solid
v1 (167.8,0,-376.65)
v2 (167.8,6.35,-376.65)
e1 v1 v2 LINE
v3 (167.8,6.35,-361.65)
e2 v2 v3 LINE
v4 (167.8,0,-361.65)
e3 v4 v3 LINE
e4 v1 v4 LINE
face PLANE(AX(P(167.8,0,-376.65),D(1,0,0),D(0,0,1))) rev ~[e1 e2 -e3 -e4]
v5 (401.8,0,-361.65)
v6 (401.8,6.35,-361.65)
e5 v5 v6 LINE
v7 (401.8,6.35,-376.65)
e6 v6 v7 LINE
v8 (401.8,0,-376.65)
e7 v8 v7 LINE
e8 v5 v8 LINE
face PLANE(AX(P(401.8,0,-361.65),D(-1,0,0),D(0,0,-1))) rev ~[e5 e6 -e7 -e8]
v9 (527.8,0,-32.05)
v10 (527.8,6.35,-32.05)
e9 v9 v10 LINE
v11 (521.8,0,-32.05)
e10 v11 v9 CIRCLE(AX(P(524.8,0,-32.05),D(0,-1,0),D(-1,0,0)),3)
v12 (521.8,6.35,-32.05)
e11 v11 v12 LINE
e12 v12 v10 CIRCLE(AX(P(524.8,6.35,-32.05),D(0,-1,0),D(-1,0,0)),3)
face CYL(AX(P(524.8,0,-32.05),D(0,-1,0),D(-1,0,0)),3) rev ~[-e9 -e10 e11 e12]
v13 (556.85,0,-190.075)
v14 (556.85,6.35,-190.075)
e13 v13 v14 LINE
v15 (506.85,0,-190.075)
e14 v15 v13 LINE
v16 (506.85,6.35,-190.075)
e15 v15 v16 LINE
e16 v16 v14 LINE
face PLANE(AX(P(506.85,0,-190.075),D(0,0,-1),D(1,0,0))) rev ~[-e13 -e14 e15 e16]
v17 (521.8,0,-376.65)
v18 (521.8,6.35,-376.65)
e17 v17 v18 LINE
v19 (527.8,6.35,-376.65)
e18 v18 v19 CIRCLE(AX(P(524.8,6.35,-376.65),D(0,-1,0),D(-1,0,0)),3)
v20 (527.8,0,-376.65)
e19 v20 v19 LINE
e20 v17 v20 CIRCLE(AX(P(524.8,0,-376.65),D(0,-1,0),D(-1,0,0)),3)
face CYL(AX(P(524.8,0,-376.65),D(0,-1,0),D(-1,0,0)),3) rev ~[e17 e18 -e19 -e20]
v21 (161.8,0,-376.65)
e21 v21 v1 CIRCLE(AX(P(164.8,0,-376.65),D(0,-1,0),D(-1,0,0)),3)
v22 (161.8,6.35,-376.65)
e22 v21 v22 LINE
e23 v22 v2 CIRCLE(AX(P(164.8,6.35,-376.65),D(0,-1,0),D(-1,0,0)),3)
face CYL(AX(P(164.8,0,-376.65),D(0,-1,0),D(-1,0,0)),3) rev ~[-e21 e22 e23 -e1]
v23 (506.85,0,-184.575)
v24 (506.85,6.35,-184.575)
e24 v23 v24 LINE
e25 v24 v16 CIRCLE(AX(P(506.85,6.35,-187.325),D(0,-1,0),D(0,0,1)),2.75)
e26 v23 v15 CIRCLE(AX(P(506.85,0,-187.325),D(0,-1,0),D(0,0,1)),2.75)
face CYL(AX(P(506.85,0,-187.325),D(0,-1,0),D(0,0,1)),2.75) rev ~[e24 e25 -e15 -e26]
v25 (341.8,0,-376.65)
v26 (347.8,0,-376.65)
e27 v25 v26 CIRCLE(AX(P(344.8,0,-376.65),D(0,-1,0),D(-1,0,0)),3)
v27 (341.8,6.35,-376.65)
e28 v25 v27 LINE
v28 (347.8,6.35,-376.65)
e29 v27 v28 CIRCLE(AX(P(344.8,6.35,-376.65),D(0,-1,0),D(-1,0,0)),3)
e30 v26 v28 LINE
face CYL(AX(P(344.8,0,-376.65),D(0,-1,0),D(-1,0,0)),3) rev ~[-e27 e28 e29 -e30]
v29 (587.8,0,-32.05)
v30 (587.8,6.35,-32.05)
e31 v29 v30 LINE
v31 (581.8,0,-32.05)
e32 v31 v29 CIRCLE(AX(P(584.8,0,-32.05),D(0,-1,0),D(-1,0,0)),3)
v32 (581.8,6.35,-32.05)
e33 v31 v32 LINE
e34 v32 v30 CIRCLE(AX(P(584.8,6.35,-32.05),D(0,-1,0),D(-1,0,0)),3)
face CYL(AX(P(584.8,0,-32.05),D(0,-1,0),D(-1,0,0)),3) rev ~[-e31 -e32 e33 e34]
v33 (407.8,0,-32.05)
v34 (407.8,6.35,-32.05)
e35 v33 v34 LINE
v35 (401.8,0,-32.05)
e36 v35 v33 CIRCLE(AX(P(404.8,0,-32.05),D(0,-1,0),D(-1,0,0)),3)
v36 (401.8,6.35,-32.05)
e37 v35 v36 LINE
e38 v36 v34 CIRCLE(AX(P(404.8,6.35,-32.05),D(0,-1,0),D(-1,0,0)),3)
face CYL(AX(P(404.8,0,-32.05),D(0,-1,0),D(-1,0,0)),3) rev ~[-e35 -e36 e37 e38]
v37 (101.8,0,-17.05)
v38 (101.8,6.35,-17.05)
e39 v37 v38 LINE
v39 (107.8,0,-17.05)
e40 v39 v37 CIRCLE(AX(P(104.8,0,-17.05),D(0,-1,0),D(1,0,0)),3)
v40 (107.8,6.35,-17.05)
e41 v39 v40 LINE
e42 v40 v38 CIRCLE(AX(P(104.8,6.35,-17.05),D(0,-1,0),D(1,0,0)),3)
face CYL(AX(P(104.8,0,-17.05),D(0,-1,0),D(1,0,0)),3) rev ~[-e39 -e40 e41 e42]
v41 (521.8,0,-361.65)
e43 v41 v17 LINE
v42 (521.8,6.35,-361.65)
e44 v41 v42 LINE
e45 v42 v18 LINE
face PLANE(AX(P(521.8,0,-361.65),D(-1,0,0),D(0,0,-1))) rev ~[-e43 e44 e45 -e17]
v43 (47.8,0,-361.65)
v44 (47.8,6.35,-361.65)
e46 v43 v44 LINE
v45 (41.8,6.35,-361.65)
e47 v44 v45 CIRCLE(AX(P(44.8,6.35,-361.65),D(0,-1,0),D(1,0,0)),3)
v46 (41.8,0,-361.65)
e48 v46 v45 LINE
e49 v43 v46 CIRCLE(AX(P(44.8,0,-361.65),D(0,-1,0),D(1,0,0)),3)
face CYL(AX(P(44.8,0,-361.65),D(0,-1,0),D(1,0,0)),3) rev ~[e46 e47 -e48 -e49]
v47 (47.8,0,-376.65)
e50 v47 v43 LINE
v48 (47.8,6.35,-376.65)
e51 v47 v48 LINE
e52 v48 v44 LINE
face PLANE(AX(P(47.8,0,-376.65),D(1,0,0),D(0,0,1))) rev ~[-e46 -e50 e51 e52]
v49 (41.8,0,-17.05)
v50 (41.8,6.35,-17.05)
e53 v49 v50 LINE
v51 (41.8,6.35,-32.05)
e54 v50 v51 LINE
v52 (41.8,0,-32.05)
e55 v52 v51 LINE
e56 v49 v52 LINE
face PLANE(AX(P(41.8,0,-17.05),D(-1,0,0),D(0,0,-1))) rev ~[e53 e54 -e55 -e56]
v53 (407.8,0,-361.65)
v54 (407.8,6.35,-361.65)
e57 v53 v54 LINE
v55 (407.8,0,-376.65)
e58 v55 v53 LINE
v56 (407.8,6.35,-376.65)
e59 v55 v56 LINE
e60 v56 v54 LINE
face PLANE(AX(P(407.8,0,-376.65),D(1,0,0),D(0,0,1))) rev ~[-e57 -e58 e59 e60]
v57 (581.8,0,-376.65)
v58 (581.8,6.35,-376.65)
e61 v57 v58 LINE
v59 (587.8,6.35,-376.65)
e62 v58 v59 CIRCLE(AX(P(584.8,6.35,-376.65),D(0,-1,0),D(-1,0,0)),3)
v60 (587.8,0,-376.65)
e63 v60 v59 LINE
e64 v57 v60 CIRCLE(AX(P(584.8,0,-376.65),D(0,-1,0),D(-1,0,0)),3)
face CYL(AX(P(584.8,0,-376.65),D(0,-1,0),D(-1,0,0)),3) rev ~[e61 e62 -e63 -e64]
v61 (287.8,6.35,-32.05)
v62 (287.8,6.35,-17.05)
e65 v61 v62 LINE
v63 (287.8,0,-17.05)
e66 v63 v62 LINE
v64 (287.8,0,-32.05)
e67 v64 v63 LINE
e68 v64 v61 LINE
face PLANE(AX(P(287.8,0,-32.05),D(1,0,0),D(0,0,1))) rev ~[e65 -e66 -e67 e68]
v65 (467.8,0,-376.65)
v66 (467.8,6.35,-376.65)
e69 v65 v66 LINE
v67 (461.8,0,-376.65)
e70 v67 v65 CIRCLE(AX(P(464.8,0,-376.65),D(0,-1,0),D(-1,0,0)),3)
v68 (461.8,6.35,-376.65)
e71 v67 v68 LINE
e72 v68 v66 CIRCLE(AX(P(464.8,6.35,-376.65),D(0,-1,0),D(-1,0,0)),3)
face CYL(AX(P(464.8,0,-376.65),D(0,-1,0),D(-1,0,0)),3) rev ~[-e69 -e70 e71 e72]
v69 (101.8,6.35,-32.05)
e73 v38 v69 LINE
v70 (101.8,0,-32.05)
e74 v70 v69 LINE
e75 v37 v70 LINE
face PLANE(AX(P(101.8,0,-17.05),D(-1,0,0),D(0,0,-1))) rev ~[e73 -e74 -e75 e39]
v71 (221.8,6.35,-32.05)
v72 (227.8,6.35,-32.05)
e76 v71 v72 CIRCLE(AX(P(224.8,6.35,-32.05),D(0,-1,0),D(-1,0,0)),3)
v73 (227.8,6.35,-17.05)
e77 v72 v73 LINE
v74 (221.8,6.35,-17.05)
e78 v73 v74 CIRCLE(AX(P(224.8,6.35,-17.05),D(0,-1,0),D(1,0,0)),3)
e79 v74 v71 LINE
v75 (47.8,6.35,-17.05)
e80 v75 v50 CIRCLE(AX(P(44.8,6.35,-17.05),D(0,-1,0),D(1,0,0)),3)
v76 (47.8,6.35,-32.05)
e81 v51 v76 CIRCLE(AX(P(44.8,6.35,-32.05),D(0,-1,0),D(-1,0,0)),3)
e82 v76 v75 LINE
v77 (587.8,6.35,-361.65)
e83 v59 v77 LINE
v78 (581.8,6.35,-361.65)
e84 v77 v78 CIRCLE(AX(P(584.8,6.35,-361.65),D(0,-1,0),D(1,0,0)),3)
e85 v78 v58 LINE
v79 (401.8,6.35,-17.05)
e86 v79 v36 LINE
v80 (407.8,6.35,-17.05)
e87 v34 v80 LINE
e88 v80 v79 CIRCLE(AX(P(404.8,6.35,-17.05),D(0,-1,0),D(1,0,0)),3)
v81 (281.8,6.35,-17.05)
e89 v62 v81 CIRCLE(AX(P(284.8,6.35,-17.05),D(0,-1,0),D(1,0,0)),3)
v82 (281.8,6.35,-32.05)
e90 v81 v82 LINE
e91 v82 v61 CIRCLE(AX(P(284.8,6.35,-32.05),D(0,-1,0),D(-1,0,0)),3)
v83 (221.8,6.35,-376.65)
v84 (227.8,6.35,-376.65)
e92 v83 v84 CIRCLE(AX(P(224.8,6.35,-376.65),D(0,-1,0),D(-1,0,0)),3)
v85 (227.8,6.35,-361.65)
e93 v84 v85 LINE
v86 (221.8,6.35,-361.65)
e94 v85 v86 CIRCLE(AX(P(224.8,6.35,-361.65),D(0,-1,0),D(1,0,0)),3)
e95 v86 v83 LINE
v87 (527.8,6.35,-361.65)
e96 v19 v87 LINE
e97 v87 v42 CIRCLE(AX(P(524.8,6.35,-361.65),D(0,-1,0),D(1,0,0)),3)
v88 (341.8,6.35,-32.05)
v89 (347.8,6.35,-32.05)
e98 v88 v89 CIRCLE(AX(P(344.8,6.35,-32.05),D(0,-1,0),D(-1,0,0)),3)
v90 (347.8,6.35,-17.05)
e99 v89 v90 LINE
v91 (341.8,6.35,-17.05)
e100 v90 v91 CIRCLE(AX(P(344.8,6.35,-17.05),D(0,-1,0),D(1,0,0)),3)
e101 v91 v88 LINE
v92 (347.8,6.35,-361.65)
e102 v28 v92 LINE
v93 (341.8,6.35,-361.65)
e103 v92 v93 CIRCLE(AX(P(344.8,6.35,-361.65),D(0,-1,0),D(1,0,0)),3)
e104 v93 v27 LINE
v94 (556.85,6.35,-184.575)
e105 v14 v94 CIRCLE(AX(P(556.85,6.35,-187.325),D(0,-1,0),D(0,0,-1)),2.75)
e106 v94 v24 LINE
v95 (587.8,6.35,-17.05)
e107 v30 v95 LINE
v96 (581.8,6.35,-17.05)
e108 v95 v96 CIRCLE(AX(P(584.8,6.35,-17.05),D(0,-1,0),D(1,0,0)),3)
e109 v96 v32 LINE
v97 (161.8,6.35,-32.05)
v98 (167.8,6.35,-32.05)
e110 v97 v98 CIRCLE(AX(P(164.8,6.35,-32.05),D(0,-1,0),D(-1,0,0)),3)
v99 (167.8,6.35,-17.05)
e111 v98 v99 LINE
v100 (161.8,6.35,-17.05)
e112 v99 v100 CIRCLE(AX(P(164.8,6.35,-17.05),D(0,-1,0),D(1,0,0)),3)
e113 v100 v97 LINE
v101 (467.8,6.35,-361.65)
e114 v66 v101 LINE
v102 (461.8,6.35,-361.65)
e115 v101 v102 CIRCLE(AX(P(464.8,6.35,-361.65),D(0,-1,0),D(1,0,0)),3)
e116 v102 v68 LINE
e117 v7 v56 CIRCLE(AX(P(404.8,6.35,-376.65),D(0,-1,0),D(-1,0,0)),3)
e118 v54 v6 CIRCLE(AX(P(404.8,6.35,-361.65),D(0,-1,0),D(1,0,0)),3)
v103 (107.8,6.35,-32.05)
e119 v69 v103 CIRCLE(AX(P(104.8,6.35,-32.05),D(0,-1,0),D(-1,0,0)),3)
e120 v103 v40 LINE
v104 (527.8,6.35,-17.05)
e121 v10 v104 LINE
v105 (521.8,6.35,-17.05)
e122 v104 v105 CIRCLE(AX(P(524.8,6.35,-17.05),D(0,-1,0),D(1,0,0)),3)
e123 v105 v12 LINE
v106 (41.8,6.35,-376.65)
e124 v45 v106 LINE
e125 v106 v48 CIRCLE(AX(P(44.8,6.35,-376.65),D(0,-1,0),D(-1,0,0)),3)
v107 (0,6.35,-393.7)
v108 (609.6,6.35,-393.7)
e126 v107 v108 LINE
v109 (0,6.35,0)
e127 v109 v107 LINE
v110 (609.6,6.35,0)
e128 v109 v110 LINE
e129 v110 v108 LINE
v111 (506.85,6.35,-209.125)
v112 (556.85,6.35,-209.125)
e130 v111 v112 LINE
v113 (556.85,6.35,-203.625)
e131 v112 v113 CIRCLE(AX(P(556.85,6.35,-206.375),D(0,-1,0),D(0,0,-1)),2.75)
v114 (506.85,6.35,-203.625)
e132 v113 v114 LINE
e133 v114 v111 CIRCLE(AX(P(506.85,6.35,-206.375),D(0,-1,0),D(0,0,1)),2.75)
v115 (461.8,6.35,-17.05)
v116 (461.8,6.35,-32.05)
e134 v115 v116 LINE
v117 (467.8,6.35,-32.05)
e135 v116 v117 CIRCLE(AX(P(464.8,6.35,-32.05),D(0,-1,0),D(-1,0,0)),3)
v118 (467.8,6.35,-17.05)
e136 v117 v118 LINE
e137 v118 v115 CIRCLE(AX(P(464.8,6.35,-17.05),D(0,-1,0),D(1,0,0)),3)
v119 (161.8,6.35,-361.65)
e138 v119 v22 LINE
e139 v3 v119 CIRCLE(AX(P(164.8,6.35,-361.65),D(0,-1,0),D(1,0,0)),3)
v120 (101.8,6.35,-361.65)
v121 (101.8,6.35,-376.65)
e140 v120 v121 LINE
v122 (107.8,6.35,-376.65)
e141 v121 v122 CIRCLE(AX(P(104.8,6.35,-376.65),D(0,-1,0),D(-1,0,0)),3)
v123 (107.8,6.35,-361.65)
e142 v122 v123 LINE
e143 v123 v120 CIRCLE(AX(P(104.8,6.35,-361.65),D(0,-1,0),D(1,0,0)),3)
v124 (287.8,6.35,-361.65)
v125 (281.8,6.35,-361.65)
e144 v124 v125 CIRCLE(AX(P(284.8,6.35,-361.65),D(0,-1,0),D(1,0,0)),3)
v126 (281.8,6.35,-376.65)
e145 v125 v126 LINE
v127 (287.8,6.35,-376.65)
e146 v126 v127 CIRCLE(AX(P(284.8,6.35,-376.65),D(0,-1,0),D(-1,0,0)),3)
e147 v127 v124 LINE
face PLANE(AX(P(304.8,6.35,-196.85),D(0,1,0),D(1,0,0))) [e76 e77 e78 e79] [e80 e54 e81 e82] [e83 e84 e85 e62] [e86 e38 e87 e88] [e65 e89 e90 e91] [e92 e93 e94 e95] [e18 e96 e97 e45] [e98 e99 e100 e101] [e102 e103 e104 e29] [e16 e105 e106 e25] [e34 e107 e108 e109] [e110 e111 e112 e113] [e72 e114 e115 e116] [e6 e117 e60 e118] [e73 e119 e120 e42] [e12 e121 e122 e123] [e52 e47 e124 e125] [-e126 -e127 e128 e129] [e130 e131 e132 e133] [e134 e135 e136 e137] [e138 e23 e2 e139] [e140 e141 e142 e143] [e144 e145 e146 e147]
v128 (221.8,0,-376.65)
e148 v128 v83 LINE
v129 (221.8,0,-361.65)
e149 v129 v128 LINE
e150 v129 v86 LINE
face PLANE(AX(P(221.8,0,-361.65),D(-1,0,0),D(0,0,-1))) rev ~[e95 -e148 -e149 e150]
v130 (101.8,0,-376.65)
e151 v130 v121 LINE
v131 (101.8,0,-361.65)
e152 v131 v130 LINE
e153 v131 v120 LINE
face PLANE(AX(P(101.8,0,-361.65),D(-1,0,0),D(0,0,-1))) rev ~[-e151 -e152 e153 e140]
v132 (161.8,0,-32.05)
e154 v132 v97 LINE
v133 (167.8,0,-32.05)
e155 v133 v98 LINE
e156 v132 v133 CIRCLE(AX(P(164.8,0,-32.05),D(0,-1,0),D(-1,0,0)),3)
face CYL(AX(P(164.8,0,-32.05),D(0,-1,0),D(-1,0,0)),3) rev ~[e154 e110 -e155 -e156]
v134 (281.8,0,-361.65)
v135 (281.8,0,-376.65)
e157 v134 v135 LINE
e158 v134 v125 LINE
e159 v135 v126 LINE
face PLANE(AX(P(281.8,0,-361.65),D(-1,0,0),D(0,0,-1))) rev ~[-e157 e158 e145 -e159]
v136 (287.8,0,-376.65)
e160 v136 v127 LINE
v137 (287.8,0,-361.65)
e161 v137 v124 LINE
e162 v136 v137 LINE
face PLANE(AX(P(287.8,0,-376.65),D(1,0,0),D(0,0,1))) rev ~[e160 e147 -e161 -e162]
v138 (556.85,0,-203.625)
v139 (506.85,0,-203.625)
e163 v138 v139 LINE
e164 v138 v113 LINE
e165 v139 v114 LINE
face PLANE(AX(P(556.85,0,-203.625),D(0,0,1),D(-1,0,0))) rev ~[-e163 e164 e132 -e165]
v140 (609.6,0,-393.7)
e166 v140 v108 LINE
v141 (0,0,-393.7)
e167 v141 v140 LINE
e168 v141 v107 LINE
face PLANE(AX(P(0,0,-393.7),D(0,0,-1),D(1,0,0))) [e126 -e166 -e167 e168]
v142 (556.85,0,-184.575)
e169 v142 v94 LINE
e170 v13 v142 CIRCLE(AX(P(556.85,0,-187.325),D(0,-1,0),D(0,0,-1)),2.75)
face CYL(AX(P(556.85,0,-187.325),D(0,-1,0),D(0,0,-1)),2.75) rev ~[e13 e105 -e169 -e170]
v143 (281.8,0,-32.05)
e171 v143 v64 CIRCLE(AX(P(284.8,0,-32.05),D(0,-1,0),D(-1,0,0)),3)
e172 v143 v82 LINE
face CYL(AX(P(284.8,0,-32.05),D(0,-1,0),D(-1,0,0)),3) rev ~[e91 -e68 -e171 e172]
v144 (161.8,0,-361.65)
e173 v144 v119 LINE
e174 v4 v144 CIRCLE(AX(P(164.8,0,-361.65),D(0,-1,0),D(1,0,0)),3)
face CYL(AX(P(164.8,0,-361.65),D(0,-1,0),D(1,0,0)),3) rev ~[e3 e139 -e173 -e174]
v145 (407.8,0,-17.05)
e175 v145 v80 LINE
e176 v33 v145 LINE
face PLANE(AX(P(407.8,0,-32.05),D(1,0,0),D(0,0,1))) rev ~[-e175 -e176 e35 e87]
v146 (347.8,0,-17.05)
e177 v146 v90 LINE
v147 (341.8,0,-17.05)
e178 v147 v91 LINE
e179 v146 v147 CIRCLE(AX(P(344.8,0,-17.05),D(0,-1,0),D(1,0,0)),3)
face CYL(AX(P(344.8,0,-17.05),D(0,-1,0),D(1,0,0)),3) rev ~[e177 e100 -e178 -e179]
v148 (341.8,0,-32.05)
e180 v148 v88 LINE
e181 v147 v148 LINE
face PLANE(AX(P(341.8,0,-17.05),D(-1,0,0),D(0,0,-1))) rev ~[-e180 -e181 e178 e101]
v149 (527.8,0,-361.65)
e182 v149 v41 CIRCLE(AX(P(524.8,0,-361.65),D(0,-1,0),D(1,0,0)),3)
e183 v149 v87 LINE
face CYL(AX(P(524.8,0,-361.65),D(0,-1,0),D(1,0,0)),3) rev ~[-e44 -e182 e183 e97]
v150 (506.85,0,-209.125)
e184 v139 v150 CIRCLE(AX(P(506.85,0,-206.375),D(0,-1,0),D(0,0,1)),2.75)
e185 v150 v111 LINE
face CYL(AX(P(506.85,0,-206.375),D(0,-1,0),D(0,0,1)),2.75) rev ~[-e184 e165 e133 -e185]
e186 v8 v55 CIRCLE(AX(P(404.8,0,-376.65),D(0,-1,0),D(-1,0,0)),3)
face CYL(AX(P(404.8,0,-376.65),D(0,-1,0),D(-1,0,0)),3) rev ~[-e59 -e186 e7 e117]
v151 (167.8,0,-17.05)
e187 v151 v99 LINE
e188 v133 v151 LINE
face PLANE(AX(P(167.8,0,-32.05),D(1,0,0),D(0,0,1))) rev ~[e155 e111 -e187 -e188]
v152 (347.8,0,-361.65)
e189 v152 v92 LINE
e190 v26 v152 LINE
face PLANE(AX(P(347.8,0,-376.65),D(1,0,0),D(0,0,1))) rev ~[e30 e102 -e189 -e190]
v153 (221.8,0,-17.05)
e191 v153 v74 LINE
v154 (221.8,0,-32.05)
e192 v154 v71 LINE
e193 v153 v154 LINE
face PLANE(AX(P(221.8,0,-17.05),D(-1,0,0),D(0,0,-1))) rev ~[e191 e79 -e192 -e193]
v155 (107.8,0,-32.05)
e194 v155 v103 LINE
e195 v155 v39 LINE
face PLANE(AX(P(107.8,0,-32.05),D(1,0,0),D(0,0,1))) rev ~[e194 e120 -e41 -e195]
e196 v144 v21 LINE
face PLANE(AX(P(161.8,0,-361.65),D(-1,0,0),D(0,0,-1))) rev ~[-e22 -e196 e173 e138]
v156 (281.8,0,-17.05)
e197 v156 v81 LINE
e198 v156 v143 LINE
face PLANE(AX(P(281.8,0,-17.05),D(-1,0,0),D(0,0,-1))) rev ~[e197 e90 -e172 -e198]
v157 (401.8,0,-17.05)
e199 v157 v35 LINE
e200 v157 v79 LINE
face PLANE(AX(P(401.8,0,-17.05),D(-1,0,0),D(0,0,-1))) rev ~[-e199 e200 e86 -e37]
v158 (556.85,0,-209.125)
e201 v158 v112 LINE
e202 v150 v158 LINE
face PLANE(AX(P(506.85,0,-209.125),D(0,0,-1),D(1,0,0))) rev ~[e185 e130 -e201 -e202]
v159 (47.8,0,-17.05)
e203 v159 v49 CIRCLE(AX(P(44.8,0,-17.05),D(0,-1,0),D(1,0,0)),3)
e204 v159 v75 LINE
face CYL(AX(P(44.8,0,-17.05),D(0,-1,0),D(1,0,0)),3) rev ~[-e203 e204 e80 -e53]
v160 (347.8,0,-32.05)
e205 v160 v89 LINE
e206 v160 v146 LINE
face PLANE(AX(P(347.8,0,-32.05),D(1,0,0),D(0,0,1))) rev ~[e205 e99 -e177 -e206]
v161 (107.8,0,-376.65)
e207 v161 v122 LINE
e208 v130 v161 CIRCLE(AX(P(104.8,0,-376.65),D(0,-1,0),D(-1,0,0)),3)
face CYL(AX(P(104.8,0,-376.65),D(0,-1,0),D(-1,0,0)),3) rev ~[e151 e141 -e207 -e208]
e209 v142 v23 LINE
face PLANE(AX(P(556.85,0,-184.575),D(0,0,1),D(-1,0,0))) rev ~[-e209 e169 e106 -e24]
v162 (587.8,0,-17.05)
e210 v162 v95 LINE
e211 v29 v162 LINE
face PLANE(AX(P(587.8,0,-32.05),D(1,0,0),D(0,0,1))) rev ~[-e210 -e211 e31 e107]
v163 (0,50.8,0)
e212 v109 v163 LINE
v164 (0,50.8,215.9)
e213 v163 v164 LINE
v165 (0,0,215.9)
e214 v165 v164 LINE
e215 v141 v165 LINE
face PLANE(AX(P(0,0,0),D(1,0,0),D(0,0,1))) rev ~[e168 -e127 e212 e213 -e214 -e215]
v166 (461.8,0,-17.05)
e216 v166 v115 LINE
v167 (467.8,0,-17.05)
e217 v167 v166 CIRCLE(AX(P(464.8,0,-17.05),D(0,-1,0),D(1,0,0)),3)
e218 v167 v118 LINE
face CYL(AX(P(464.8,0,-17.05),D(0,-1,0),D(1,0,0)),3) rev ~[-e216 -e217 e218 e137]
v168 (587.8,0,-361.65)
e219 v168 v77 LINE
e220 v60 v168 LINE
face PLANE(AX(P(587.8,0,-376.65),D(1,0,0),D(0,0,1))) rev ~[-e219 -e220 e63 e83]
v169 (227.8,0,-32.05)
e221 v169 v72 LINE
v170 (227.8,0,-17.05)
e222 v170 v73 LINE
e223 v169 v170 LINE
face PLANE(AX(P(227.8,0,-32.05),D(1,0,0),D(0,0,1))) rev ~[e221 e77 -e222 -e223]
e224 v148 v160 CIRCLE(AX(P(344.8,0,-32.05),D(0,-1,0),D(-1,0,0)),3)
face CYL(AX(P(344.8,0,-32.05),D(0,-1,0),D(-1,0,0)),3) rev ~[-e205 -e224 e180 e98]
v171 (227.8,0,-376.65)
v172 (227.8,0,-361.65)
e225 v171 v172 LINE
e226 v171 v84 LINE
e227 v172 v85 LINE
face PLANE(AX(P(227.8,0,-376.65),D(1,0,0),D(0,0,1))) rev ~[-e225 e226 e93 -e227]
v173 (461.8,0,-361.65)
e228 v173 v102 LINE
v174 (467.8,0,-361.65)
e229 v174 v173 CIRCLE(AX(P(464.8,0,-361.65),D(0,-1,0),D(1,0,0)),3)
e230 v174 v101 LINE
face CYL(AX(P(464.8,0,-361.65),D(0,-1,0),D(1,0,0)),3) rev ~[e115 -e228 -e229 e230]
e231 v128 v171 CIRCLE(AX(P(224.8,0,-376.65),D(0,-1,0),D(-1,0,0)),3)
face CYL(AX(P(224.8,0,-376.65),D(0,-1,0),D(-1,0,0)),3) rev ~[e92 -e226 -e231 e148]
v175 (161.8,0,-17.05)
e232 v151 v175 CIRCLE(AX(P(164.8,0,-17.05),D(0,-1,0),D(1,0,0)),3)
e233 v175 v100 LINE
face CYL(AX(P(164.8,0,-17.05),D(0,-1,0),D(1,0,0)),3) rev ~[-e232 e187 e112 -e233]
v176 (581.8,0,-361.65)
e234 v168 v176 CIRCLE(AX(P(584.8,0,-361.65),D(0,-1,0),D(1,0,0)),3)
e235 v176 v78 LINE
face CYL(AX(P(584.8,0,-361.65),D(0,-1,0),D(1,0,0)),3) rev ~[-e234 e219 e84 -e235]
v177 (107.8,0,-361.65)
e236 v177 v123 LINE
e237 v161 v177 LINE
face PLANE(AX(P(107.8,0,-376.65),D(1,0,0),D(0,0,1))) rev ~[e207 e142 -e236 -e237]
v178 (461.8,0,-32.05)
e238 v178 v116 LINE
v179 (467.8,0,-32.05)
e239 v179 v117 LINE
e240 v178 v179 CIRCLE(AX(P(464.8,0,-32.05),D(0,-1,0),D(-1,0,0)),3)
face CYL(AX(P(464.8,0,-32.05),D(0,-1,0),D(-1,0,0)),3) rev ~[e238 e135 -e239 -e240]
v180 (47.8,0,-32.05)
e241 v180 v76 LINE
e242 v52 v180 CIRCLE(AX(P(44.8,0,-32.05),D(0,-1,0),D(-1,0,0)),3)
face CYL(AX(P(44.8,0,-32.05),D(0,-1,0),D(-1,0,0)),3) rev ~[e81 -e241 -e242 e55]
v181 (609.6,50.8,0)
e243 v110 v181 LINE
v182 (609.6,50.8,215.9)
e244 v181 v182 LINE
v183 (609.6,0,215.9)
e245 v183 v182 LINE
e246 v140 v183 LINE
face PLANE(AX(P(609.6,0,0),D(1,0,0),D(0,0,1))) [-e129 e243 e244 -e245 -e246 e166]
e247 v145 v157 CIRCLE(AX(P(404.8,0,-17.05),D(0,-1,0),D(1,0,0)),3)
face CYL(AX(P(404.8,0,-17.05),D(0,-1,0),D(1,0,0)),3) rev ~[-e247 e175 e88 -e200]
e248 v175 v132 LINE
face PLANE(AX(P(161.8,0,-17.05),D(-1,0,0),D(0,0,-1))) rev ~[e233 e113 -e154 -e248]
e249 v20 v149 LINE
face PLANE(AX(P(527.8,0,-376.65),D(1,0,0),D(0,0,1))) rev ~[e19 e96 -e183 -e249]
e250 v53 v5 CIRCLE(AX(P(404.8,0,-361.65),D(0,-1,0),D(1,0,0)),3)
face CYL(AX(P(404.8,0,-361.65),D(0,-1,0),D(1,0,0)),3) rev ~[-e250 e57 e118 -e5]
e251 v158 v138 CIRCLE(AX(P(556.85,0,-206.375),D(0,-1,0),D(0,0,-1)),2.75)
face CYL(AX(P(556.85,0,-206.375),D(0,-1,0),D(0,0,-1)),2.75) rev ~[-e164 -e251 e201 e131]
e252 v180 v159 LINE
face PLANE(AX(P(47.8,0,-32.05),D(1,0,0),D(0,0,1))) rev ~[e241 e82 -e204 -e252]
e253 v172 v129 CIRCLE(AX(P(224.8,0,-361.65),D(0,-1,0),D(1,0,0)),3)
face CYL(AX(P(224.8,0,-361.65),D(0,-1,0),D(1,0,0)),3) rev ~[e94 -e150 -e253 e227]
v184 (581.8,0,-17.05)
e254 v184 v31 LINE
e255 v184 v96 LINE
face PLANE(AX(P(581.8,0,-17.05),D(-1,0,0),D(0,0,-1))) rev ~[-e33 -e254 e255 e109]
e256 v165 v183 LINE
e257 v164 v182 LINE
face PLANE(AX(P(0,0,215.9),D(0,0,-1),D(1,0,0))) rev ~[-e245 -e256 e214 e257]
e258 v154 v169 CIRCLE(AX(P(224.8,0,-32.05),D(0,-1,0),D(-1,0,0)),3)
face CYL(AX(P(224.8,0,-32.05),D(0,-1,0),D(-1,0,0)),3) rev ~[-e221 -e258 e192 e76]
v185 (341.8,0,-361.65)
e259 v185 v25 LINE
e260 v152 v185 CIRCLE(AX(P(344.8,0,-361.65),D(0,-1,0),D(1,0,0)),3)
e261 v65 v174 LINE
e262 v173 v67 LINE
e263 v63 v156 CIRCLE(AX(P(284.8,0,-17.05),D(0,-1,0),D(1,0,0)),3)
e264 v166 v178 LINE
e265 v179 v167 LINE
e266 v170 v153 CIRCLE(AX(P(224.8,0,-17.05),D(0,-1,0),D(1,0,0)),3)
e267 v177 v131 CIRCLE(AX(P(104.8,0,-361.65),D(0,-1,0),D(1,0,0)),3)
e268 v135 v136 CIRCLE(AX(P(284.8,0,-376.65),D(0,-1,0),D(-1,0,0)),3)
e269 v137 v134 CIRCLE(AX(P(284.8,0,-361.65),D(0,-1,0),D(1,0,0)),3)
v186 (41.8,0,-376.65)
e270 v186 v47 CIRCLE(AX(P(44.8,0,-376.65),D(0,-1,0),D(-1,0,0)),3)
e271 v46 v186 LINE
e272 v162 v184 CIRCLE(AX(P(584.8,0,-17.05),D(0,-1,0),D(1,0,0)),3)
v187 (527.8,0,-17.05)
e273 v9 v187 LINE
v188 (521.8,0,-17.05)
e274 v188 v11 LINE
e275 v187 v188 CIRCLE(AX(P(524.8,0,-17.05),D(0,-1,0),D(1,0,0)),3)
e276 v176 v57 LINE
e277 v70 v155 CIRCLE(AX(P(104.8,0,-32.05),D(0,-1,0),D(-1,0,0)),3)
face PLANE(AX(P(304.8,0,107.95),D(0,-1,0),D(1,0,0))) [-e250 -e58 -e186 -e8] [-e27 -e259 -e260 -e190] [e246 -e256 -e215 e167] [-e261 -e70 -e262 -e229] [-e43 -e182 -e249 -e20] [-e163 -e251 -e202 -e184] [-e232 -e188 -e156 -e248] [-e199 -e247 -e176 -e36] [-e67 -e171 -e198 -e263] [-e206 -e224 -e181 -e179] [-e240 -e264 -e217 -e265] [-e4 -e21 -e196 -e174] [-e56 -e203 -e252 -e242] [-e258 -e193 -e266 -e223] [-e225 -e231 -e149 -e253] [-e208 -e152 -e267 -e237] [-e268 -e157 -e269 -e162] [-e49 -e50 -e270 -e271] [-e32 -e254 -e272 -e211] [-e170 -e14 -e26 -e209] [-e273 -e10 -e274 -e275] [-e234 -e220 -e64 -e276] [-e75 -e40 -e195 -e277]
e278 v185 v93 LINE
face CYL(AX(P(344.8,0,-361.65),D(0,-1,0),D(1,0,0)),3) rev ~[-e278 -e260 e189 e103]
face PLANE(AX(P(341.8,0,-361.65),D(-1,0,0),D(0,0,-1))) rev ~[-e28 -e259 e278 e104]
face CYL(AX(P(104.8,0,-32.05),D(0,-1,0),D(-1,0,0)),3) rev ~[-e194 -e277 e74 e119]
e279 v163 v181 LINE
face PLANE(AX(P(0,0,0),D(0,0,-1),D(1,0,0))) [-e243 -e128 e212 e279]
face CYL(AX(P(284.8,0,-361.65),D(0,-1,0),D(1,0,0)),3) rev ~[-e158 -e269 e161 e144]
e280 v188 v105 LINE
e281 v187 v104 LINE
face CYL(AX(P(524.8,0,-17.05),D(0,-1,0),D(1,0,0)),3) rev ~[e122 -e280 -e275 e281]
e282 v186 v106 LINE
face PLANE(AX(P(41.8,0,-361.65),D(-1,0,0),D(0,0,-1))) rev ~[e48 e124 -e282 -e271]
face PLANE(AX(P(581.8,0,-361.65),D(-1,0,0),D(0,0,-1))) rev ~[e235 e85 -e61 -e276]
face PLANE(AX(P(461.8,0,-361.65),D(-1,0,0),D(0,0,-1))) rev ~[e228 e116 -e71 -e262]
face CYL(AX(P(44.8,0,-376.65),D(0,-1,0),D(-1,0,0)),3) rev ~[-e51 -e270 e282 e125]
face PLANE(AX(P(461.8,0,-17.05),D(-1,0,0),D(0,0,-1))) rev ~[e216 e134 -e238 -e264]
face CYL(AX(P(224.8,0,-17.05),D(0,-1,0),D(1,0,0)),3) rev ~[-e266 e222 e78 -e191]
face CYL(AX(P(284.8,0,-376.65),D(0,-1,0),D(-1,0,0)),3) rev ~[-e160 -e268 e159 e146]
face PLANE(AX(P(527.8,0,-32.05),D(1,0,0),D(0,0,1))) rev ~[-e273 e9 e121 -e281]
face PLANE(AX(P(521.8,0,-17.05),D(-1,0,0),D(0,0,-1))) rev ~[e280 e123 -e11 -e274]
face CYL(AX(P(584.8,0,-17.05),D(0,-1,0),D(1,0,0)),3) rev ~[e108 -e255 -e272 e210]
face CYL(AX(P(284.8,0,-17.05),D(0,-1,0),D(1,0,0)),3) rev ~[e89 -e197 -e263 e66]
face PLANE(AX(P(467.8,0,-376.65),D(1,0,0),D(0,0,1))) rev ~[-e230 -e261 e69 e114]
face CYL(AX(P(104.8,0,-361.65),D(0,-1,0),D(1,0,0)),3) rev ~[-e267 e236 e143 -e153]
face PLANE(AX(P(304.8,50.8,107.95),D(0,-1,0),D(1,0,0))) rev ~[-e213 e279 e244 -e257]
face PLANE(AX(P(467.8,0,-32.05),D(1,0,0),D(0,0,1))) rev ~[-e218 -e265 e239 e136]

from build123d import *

# Parameters (mm, degrees)
SKETCH1_W           = 609.6
SKETCH1_H           = 393.7
BOSS_EXTRUDE1_DEPTH = 6.35
SKETCH2_W           = 609.6
SKETCH2_H           = 215.9
BOSS_EXTRUDE2_DEPTH = 50.8


with BuildPart() as part:
    # Sketch1 → Boss-Extrude1 (new body)
    with BuildSketch(Plane(origin=(0, 0, 0), x_dir=(1, 0, 0), z_dir=(0, 1, 0))):
        with Locations((304.8, 196.85)):
            Rectangle(SKETCH1_W, SKETCH1_H)
        with BuildLine():
            Line((587.8, 32.05), (587.8, 17.05))
            ThreePointArc((587.8, 17.05), (584.8, 14.05), (581.8, 17.05))
            Line((581.8, 17.05), (581.8, 32.05))
            ThreePointArc((581.8, 32.05), (584.8, 35.05), (587.8, 32.05))
        make_face(mode=Mode.SUBTRACT)
        with BuildLine():
            Line((527.8, 32.05), (527.8, 17.05))
            ThreePointArc((527.8, 17.05), (524.8, 14.05), (521.8, 17.05))
            Line((521.8, 17.05), (521.8, 32.05))
            ThreePointArc((521.8, 32.05), (524.8, 35.05), (527.8, 32.05))
        make_face(mode=Mode.SUBTRACT)
        with BuildLine():
            Line((467.8, 32.05), (467.8, 17.05))
            ThreePointArc((467.8, 17.05), (464.8, 14.05), (461.8, 17.05))
            Line((461.8, 17.05), (461.8, 32.05))
            ThreePointArc((461.8, 32.05), (464.8, 35.05), (467.8, 32.05))
        make_face(mode=Mode.SUBTRACT)
        with BuildLine():
            Line((407.8, 32.05), (407.8, 17.05))
            ThreePointArc((407.8, 17.05), (404.8, 14.05), (401.8, 17.05))
            Line((401.8, 17.05), (401.8, 32.05))
            ThreePointArc((401.8, 32.05), (404.8, 35.05), (407.8, 32.05))
        make_face(mode=Mode.SUBTRACT)
        with BuildLine():
            Line((347.8, 32.05), (347.8, 17.05))
            ThreePointArc((347.8, 17.05), (344.8, 14.05), (341.8, 17.05))
            Line((341.8, 17.05), (341.8, 32.05))
            ThreePointArc((341.8, 32.05), (344.8, 35.05), (347.8, 32.05))
        make_face(mode=Mode.SUBTRACT)
        with BuildLine():
            Line((287.8, 32.05), (287.8, 17.05))
            ThreePointArc((287.8, 17.05), (284.8, 14.05), (281.8, 17.05))
            Line((281.8, 17.05), (281.8, 32.05))
            ThreePointArc((281.8, 32.05), (284.8, 35.05), (287.8, 32.05))
        make_face(mode=Mode.SUBTRACT)
        with BuildLine():
            Line((227.8, 32.05), (227.8, 17.05))
            ThreePointArc((227.8, 17.05), (224.8, 14.05), (221.8, 17.05))
            Line((221.8, 17.05), (221.8, 32.05))
            ThreePointArc((221.8, 32.05), (224.8, 35.05), (227.8, 32.05))
        make_face(mode=Mode.SUBTRACT)
        with BuildLine():
            Line((167.8, 32.05), (167.8, 17.05))
            ThreePointArc((167.8, 17.05), (164.8, 14.05), (161.8, 17.05))
            Line((161.8, 17.05), (161.8, 32.05))
            ThreePointArc((161.8, 32.05), (164.8, 35.05), (167.8, 32.05))
        make_face(mode=Mode.SUBTRACT)
        with BuildLine():
            Line((107.8, 32.05), (107.8, 17.05))
            ThreePointArc((107.8, 17.05), (104.8, 14.05), (101.8, 17.05))
            Line((101.8, 17.05), (101.8, 32.05))
            ThreePointArc((101.8, 32.05), (104.8, 35.05), (107.8, 32.05))
        make_face(mode=Mode.SUBTRACT)
        with BuildLine():
            Line((47.8, 32.05), (47.8, 17.05))
            ThreePointArc((47.8, 17.05), (44.8, 14.05), (41.8, 17.05))
            Line((41.8, 17.05), (41.8, 32.05))
            ThreePointArc((41.8, 32.05), (44.8, 35.05), (47.8, 32.05))
        make_face(mode=Mode.SUBTRACT)
        with BuildLine():
            Line((527.8, 376.65), (527.8, 361.65))
            ThreePointArc((527.8, 361.65), (524.8, 358.65), (521.8, 361.65))
            Line((521.8, 361.65), (521.8, 376.65))
            ThreePointArc((521.8, 376.65), (524.8, 379.65), (527.8, 376.65))
        make_face(mode=Mode.SUBTRACT)
        with BuildLine():
            Line((467.8, 376.65), (467.8, 361.65))
            ThreePointArc((467.8, 361.65), (464.8, 358.65), (461.8, 361.65))
            Line((461.8, 361.65), (461.8, 376.65))
            ThreePointArc((461.8, 376.65), (464.8, 379.65), (467.8, 376.65))
        make_face(mode=Mode.SUBTRACT)
        with BuildLine():
            Line((407.8, 376.65), (407.8, 361.65))
            ThreePointArc((407.8, 361.65), (404.8, 358.65), (401.8, 361.65))
            Line((401.8, 361.65), (401.8, 376.65))
            ThreePointArc((401.8, 376.65), (404.8, 379.65), (407.8, 376.65))
        make_face(mode=Mode.SUBTRACT)
        with BuildLine():
            Line((347.8, 376.65), (347.8, 361.65))
            ThreePointArc((347.8, 361.65), (344.8, 358.65), (341.8, 361.65))
            Line((341.8, 361.65), (341.8, 376.65))
            ThreePointArc((341.8, 376.65), (344.8, 379.65), (347.8, 376.65))
        make_face(mode=Mode.SUBTRACT)
        with BuildLine():
            Line((287.8, 376.65), (287.8, 361.65))
            ThreePointArc((287.8, 361.65), (284.8, 358.65), (281.8, 361.65))
            Line((281.8, 361.65), (281.8, 376.65))
            ThreePointArc((281.8, 376.65), (284.8, 379.65), (287.8, 376.65))
        make_face(mode=Mode.SUBTRACT)
        with BuildLine():
            Line((227.8, 376.65), (227.8, 361.65))
            ThreePointArc((227.8, 361.65), (224.8, 358.65), (221.8, 361.65))
            Line((221.8, 361.65), (221.8, 376.65))
            ThreePointArc((221.8, 376.65), (224.8, 379.65), (227.8, 376.65))
        make_face(mode=Mode.SUBTRACT)
        with BuildLine():
            Line((167.8, 376.65), (167.8, 361.65))
            ThreePointArc((167.8, 361.65), (164.8, 358.65), (161.8, 361.65))
            Line((161.8, 361.65), (161.8, 376.65))
            ThreePointArc((161.8, 376.65), (164.8, 379.65), (167.8, 376.65))
        make_face(mode=Mode.SUBTRACT)
        with BuildLine():
            Line((107.8, 376.65), (107.8, 361.65))
            ThreePointArc((107.8, 361.65), (104.8, 358.65), (101.8, 361.65))
            Line((101.8, 361.65), (101.8, 376.65))
            ThreePointArc((101.8, 376.65), (104.8, 379.65), (107.8, 376.65))
        make_face(mode=Mode.SUBTRACT)
        with BuildLine():
            Line((47.8, 376.65), (47.8, 361.65))
            ThreePointArc((47.8, 361.65), (44.8, 358.65), (41.8, 361.65))
            Line((41.8, 361.65), (41.8, 376.65))
            ThreePointArc((41.8, 376.65), (44.8, 379.65), (47.8, 376.65))
        make_face(mode=Mode.SUBTRACT)
        with BuildLine():
            Line((587.8, 376.65), (587.8, 361.65))
            ThreePointArc((587.8, 361.65), (584.8, 358.65), (581.8, 361.65))
            Line((581.8, 361.65), (581.8, 376.65))
            ThreePointArc((581.8, 376.65), (584.8, 379.65), (587.8, 376.65))
        make_face(mode=Mode.SUBTRACT)
        with BuildLine():
            Line((506.85, 209.125), (556.85, 209.125))
            ThreePointArc((556.85, 209.125), (559.6, 206.375), (556.85, 203.625))
            Line((556.85, 203.625), (506.85, 203.625))
            ThreePointArc((506.85, 203.625), (504.1, 206.375), (506.85, 209.125))
        make_face(mode=Mode.SUBTRACT)
        with BuildLine():
            Line((506.85, 190.075), (556.85, 190.075))
            ThreePointArc((556.85, 190.075), (559.6, 187.325), (556.85, 184.575))
            Line((556.85, 184.575), (506.85, 184.575))
            ThreePointArc((506.85, 184.575), (504.1, 187.325), (506.85, 190.075))
        make_face(mode=Mode.SUBTRACT)
    extrude(amount=BOSS_EXTRUDE1_DEPTH)

    # Sketch2 → Boss-Extrude2 (add)
    with BuildSketch(Plane.XZ):
        with Locations((304.8, 107.95)):
            Rectangle(SKETCH2_W, SKETCH2_H)
    extrude(amount=-BOSS_EXTRUDE2_DEPTH)


solid = part.part
